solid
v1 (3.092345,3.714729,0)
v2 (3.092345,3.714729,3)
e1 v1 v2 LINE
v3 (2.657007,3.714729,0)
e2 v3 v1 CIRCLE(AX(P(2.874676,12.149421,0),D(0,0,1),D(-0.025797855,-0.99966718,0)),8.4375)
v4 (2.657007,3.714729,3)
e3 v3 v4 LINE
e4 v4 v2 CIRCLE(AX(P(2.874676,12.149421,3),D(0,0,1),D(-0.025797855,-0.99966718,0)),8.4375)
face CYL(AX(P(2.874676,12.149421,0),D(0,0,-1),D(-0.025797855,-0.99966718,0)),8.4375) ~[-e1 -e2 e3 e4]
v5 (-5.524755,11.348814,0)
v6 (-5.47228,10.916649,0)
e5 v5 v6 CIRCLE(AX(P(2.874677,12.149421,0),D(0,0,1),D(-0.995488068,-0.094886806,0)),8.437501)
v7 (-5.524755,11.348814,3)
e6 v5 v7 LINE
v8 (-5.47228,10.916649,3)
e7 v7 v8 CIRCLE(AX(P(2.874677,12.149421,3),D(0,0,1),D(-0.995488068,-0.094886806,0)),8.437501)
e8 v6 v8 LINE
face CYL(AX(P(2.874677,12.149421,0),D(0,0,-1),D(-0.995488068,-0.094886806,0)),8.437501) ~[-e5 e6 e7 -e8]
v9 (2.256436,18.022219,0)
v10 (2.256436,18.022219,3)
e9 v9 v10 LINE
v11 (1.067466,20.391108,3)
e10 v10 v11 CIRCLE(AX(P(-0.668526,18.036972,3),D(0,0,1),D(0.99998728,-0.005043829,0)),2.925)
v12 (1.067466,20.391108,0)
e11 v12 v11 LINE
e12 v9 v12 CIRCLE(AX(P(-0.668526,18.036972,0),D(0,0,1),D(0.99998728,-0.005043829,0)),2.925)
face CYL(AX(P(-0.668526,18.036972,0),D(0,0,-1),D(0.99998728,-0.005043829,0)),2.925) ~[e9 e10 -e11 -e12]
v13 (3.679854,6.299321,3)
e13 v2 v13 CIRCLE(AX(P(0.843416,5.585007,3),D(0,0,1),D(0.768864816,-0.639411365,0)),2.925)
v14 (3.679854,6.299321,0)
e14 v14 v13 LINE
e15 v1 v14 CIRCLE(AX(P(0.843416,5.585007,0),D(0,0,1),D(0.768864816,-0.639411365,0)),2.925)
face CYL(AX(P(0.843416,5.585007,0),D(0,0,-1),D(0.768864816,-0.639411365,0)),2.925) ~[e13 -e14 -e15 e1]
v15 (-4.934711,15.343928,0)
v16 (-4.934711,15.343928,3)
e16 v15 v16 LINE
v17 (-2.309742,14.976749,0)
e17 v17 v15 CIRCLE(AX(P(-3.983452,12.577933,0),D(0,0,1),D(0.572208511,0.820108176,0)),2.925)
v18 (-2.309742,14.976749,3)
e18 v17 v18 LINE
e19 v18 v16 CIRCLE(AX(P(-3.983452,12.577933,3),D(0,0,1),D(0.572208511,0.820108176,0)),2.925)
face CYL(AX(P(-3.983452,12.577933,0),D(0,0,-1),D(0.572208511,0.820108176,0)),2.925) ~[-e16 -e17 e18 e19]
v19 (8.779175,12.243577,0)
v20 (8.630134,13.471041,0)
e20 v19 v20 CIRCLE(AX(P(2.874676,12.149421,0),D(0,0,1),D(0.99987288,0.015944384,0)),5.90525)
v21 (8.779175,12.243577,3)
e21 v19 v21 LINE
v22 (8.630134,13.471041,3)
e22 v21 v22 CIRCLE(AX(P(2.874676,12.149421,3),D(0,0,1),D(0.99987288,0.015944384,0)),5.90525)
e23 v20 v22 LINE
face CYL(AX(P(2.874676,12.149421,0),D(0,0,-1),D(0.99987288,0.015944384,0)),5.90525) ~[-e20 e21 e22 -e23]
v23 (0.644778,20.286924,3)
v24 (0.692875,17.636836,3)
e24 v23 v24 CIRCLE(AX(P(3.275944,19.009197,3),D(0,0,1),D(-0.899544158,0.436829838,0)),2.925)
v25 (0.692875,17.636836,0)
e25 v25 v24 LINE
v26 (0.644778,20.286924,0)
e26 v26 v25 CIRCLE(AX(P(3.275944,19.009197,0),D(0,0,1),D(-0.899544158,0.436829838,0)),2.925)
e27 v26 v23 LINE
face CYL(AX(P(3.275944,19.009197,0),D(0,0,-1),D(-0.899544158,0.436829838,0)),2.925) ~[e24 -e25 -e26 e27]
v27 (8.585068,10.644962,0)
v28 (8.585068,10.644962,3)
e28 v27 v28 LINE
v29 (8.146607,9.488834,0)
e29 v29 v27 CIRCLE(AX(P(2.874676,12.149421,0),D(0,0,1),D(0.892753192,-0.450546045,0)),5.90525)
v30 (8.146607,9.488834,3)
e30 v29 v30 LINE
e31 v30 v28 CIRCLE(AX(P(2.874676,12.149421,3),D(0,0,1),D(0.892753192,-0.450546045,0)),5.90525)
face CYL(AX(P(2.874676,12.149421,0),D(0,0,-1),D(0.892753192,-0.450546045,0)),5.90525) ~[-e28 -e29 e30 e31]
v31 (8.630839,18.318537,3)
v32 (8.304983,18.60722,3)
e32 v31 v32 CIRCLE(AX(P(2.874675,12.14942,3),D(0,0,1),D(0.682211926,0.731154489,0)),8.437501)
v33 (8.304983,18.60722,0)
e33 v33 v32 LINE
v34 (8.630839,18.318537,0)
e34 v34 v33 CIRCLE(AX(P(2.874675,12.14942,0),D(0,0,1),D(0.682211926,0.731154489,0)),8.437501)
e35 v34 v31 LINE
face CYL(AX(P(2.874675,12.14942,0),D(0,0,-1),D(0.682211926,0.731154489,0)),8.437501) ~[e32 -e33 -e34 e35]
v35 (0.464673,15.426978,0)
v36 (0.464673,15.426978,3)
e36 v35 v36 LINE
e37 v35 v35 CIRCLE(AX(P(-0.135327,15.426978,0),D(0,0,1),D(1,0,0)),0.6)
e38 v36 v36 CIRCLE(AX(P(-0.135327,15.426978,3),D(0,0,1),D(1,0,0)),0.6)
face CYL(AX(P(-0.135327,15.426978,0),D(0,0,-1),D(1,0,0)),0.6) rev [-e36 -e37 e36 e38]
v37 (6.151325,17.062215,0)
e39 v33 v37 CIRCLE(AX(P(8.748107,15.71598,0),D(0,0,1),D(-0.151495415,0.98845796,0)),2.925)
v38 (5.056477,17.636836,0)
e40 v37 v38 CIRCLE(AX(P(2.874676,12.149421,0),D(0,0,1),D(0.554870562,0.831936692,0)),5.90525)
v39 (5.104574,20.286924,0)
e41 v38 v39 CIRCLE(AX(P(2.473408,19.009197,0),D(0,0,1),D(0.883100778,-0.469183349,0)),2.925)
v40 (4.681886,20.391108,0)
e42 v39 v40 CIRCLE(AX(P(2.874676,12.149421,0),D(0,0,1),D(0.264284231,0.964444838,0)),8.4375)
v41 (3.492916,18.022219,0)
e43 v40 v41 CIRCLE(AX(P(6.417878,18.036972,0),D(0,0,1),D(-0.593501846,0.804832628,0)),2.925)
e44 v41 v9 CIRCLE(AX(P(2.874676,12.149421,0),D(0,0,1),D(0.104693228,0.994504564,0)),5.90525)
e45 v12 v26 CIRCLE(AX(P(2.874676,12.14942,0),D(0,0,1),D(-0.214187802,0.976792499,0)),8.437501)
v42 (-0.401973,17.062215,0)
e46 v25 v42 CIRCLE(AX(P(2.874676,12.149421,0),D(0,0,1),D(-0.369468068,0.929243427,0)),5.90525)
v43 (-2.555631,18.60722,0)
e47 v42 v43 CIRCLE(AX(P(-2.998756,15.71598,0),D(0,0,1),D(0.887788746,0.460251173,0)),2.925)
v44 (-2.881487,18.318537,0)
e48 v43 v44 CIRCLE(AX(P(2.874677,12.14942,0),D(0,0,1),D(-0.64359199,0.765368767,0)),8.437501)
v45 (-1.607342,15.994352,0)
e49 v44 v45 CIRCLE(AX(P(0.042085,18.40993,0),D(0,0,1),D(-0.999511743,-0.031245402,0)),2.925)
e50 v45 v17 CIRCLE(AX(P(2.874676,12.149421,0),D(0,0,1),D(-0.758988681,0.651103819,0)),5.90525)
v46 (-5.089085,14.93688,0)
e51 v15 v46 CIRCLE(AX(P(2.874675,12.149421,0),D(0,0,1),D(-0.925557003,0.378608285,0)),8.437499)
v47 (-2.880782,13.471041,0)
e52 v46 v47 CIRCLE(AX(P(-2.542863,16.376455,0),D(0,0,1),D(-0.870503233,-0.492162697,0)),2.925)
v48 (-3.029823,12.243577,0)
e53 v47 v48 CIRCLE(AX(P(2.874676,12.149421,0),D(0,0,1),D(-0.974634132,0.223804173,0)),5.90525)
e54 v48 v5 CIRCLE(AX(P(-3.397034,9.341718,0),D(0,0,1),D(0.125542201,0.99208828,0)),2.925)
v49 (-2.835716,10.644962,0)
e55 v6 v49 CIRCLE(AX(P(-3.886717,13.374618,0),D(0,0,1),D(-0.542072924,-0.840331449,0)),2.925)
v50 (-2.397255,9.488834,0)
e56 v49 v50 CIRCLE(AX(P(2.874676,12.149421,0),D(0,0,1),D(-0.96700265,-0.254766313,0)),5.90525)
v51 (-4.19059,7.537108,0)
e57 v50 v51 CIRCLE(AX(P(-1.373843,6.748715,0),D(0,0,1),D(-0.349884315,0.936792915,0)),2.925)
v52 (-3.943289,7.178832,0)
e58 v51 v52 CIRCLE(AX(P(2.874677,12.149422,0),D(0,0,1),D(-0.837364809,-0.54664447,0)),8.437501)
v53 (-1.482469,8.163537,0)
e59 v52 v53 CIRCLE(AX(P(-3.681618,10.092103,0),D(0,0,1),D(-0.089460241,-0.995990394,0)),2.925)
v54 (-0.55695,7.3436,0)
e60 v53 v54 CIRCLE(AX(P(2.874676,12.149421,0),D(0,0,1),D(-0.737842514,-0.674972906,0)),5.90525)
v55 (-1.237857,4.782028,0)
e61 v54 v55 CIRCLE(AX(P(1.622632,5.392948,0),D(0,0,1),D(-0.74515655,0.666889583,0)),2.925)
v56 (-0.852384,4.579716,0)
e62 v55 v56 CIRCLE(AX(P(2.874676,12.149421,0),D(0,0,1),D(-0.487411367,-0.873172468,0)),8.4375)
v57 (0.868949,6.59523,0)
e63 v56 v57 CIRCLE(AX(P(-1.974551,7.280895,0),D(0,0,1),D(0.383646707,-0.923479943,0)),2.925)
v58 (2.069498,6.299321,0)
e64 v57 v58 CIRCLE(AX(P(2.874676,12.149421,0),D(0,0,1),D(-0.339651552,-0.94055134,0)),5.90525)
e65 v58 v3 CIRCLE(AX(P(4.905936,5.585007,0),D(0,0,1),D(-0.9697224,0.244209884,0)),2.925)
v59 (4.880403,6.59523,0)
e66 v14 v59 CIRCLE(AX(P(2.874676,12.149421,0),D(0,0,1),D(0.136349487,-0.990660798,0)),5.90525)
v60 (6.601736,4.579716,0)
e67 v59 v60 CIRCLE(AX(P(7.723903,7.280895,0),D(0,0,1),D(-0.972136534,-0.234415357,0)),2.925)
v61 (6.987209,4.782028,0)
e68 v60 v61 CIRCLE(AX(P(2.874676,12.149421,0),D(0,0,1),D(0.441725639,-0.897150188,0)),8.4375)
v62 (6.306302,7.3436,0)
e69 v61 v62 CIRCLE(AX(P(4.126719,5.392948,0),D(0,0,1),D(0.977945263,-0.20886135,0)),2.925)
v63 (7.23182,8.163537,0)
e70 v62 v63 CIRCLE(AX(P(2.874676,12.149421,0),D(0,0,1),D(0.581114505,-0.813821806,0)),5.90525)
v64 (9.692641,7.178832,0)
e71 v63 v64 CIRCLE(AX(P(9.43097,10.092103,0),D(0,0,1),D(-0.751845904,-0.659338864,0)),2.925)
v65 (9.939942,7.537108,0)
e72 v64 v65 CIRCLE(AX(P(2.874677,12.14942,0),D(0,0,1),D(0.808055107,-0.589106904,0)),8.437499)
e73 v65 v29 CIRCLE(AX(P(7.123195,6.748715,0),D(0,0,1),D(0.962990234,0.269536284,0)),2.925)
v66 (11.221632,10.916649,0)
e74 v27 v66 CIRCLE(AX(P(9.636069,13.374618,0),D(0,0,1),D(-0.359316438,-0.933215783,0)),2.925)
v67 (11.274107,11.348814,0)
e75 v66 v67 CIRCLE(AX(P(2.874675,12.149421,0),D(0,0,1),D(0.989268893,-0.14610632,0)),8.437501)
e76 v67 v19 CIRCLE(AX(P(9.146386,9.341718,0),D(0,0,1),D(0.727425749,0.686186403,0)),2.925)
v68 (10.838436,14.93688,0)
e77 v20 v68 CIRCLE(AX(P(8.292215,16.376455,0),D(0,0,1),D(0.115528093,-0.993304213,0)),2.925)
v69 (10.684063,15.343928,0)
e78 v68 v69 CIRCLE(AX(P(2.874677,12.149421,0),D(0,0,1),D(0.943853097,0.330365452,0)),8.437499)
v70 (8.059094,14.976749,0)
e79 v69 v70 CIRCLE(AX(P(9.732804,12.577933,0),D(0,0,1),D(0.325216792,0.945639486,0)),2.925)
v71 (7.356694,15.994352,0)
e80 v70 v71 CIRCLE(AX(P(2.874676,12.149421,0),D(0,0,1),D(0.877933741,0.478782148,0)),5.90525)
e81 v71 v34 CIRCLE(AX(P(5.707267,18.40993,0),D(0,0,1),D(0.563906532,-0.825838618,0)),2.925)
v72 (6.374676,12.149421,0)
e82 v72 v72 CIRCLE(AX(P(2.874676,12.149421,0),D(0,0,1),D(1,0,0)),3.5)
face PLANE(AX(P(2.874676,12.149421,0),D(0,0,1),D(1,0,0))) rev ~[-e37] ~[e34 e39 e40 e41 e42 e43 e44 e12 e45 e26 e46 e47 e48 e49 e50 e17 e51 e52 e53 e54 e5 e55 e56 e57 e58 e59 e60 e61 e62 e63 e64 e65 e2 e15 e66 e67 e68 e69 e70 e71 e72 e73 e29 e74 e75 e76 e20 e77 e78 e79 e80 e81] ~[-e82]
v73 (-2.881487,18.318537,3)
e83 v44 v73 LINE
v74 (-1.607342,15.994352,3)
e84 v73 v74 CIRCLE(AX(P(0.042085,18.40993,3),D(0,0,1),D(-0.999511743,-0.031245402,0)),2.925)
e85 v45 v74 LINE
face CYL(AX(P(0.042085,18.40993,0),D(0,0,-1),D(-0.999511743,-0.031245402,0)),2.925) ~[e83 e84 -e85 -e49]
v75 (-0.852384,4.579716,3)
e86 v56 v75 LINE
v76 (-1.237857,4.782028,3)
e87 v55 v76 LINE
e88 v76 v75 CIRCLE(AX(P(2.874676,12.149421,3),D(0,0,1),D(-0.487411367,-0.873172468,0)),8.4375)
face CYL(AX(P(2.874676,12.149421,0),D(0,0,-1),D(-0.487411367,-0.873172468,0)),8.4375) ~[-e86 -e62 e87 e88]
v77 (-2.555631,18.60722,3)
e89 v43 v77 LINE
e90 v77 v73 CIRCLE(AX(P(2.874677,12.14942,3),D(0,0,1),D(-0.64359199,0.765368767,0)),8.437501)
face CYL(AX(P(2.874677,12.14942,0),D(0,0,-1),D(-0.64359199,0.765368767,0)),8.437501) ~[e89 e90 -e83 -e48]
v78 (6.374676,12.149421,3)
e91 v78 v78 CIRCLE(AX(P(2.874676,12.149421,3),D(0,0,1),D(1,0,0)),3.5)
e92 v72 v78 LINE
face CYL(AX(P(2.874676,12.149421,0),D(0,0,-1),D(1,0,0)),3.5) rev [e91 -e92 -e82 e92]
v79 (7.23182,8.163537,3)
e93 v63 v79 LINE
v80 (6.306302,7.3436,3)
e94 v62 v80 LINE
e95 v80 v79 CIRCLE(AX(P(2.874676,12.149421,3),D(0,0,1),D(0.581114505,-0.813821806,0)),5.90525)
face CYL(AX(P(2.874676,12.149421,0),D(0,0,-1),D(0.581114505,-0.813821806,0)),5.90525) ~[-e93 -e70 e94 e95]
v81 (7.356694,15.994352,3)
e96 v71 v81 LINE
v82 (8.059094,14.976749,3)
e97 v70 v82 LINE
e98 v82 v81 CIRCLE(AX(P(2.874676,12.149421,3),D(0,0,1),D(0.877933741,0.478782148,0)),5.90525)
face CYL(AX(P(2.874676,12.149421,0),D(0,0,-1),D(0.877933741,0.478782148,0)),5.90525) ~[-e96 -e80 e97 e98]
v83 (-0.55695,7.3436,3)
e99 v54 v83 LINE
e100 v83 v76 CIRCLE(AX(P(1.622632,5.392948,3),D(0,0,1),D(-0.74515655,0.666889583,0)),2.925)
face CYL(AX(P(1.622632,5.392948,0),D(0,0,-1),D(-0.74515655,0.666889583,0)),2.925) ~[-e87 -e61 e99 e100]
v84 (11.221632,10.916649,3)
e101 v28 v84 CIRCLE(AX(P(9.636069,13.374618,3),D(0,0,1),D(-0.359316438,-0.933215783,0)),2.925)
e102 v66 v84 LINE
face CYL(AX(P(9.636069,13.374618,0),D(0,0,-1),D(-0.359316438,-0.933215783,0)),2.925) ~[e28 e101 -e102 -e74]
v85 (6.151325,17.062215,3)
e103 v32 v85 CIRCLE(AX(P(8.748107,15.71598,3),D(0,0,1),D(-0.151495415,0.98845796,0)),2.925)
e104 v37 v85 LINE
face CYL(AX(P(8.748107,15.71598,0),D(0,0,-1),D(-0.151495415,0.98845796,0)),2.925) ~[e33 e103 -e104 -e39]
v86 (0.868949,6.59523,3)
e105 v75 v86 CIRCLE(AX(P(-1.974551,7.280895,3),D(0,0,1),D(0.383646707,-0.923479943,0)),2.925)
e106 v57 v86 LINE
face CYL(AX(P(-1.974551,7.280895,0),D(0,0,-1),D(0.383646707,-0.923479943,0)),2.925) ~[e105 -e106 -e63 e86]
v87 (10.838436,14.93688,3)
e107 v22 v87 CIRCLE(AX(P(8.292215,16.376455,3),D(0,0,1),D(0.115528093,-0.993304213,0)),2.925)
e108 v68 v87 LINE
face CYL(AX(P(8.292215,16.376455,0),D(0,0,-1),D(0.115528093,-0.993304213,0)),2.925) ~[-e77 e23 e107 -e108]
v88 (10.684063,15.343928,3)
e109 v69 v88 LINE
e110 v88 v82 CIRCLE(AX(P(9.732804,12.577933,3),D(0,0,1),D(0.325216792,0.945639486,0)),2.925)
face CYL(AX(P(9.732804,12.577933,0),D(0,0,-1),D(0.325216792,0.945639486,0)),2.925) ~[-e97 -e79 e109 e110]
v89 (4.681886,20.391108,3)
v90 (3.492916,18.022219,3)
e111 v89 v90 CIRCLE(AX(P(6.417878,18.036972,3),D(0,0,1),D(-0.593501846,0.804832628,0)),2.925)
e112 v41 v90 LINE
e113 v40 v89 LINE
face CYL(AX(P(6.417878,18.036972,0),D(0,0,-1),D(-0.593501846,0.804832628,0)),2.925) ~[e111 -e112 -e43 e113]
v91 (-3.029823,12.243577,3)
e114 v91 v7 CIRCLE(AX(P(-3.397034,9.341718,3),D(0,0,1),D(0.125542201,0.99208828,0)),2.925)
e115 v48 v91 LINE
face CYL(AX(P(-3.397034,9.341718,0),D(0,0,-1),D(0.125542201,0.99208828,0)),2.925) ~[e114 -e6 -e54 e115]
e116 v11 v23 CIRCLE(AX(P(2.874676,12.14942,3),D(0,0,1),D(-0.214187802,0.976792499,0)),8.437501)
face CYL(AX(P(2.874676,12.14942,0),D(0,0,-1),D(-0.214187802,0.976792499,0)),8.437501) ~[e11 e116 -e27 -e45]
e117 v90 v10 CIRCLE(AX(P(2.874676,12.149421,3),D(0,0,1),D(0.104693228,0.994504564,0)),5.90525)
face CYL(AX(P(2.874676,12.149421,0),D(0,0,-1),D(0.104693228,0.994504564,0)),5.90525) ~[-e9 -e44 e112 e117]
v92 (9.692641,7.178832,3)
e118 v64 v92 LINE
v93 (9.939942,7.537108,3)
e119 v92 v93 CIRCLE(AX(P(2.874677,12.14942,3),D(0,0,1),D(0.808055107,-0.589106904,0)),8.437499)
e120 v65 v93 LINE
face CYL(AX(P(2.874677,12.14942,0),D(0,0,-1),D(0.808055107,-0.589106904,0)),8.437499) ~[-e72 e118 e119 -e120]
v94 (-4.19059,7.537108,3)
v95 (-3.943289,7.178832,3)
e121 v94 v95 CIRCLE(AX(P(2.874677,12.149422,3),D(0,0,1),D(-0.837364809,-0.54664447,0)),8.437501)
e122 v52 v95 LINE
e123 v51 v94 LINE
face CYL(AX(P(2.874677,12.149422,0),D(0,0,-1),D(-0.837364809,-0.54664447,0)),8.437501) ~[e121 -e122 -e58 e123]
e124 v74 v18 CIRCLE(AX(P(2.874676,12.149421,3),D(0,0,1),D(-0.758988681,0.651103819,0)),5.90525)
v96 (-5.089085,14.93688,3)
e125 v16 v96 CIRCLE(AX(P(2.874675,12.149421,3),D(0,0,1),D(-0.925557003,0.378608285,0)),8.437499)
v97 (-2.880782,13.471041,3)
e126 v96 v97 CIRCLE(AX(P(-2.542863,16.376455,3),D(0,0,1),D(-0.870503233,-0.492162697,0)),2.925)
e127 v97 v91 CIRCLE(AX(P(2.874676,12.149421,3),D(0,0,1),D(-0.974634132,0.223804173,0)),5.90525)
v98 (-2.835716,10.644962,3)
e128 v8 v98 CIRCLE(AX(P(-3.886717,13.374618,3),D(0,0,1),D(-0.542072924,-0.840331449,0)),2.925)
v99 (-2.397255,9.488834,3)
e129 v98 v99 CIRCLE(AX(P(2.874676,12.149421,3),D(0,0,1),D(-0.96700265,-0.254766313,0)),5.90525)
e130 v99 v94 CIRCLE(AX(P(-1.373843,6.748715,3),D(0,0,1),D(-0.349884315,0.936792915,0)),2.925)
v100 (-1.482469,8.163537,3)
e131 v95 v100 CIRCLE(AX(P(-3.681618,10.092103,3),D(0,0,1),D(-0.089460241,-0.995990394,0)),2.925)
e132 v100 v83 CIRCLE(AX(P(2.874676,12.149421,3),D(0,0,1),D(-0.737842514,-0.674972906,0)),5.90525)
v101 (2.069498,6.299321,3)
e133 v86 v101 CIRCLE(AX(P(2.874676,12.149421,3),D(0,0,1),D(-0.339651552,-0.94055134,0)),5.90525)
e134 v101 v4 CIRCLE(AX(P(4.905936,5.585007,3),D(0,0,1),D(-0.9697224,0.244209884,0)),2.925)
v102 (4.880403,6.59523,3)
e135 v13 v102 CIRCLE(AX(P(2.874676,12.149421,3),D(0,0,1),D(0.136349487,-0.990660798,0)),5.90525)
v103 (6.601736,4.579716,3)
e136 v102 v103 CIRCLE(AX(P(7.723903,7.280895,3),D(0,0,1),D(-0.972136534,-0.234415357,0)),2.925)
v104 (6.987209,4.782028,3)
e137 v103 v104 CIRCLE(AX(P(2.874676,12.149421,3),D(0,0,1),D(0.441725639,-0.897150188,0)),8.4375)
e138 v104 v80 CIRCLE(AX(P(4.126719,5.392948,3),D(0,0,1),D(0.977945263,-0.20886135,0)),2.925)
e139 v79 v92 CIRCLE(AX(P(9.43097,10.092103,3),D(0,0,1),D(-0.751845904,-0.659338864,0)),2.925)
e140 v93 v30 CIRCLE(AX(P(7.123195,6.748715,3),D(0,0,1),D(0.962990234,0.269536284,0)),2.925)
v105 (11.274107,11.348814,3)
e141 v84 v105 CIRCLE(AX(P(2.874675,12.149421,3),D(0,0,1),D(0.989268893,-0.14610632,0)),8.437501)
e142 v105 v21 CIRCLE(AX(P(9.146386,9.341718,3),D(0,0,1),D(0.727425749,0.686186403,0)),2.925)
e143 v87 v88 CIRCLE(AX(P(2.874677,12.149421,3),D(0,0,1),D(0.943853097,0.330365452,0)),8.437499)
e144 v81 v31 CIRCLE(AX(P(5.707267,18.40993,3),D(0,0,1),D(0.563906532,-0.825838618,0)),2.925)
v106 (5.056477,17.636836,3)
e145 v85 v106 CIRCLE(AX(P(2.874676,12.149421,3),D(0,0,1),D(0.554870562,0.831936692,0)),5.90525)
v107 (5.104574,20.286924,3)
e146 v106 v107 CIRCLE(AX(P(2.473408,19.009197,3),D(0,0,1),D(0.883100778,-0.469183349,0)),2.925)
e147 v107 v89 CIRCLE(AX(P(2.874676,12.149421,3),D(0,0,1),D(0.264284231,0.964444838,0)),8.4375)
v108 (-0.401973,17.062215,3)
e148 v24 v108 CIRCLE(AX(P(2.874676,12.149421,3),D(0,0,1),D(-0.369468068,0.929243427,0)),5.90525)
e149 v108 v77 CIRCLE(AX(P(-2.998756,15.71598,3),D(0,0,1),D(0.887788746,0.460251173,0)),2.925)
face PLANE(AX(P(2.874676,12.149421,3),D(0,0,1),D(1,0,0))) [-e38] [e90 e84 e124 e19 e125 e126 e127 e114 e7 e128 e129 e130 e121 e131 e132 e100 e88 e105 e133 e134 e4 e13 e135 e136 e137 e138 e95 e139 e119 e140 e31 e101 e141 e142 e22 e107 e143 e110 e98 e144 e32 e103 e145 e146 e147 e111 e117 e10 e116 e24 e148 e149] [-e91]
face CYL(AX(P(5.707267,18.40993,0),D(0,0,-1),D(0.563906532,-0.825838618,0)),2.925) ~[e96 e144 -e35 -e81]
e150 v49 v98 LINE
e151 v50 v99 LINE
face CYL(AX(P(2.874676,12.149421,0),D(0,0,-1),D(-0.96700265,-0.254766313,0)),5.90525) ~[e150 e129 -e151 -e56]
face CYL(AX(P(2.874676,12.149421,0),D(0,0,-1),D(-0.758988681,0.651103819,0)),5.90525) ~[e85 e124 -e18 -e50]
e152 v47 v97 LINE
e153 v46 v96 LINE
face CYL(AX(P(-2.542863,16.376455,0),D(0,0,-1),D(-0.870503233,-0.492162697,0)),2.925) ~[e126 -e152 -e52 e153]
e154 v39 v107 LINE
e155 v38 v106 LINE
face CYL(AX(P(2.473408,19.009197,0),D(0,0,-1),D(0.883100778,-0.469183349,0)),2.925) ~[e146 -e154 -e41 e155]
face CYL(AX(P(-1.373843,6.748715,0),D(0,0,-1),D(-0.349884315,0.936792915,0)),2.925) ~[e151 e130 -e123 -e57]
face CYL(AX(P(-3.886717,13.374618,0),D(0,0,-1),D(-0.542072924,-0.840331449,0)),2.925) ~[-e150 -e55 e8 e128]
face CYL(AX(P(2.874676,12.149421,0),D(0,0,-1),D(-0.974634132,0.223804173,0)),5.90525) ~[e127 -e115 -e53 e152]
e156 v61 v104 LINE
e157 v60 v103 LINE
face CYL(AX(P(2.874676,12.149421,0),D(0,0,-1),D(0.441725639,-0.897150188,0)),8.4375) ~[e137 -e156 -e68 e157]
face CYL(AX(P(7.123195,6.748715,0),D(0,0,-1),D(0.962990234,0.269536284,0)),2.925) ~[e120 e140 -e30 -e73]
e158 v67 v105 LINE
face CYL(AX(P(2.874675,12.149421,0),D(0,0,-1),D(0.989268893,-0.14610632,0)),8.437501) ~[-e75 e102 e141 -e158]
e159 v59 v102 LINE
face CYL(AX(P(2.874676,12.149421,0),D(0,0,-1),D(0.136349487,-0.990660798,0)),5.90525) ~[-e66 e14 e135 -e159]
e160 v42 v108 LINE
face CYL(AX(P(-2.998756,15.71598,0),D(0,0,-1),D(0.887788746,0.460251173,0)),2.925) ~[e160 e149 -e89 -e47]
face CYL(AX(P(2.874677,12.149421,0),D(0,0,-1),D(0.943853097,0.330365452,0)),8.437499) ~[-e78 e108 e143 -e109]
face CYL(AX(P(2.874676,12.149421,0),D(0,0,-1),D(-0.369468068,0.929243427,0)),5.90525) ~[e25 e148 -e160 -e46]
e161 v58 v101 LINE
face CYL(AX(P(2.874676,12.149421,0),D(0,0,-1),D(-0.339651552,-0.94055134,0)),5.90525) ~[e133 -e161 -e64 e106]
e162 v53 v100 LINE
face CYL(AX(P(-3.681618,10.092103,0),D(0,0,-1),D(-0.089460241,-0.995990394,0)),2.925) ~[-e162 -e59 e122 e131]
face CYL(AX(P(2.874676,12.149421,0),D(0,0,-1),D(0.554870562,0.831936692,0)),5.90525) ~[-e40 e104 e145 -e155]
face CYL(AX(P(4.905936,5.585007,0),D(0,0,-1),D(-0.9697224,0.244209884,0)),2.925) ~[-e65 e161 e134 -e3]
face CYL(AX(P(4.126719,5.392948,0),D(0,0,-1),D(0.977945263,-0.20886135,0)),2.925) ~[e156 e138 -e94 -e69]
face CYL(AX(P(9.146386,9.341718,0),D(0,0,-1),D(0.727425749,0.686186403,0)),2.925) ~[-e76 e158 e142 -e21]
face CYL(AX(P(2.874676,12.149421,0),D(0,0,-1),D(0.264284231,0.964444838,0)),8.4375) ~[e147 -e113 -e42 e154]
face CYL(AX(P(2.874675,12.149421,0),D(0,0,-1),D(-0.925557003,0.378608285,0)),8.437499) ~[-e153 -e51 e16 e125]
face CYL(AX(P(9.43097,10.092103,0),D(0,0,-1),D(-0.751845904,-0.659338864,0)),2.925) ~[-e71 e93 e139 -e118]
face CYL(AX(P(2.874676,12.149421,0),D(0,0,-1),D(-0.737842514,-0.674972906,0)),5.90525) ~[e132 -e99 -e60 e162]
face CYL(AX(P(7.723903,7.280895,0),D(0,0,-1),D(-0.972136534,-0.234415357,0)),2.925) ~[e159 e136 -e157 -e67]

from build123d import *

# Parameters (mm, degrees)
SKETCH1_R           = 3.5
SKETCH1_R_2         = 0.6
BOSS_EXTRUDE1_DEPTH = 3


with BuildPart() as part:
    # Sketch1 → Boss-Extrude1 (new body)
    with BuildSketch(Plane.XY):
        with BuildLine():
            ThreePointArc((2.256436303, 18.02221908), (1.945672304, 19.349065897), (1.067466411, 20.391107713))
            ThreePointArc((1.067466411, 20.391107713), (0.855450056, 20.341742586), (0.644777778, 20.286924322))
            ThreePointArc((0.644777778, 20.286924322), (0.351426057, 18.956119489), (0.692874662, 17.636835748))
            ThreePointArc((0.692874662, 17.636835748), (0.130369461, 17.378260197), (-0.40197342, 17.062215148))
            ThreePointArc((-0.40197342, 17.062215148), (-1.293757737, 18.092660425), (-2.555631415, 18.607220002))
            ThreePointArc((-2.555631415, 18.607220002), (-2.720421456, 18.464980439), (-2.881487176, 18.318536988))
            ThreePointArc((-2.881487176, 18.318536988), (-2.522781382, 17.003840487), (-1.607341932, 15.994351828))
            ThreePointArc((-1.607341932, 15.994351828), (-1.985249501, 15.503985347), (-2.309742255, 14.976749281))
            ThreePointArc((-2.309742255, 14.976749281), (-3.57824985, 15.474730425), (-4.93471126, 15.343928364))
            ThreePointArc((-4.93471126, 15.343928364), (-5.014523575, 15.141399736), (-5.089084522, 14.936879527))
            ThreePointArc((-5.089084522, 14.936879527), (-4.160496386, 13.939472483), (-2.880782238, 13.471040593))
            ThreePointArc((-2.880782238, 13.471040593), (-2.987518106, 12.861220233), (-3.029823353, 12.243576579))
            ThreePointArc((-3.029823353, 12.243576579), (-4.384454423, 12.09501211), (-5.524754604, 11.348813588))
            ThreePointArc((-5.524754604, 11.348813588), (-5.501305152, 11.132392762), (-5.472280312, 10.916648911))
            ThreePointArc((-5.472280312, 10.916648911), (-4.186538186, 10.465025257), (-2.835716429, 10.644962236))
            ThreePointArc((-2.835716429, 10.644962236), (-2.646828694, 10.055390493), (-2.397254812, 9.488833969))
            ThreePointArc((-2.397254812, 9.488833969), (-3.527679704, 8.727758217), (-4.190589627, 7.537108322))
            ThreePointArc((-4.190589627, 7.537108322), (-4.069250395, 7.356374701), (-3.943289009, 7.178831524))
            ThreePointArc((-3.943289009, 7.178831524), (-2.594940919, 7.376452797), (-1.482468538, 8.163537251))
            ThreePointArc((-1.482468538, 8.163537251), (-1.041229104, 7.729277906), (-0.556950462, 7.343599785))
            ThreePointArc((-0.556950462, 7.343599785), (-1.204202457, 6.144366032), (-1.237857446, 4.782028306))
            ThreePointArc((-1.237857446, 4.782028306), (-1.046425791, 4.678385785), (-0.852384094, 4.579716284))
            ThreePointArc((-0.852384094, 4.579716284), (0.249679662, 5.381309833), (0.868948651, 6.595230199))
            ThreePointArc((0.868948651, 6.595230199), (1.461457147, 6.415766834), (2.069498148, 6.299321325))
            ThreePointArc((2.069498148, 6.299321325), (2.053696683, 4.936659572), (2.657006579, 3.714729171))
            ThreePointArc((2.657006579, 3.714729171), (2.874675973, 3.711921002), (3.092345367, 3.714729171))
            ThreePointArc((3.092345367, 3.714729171), (3.695655263, 4.936659572), (3.679853798, 6.299321325))
            ThreePointArc((3.679853798, 6.299321325), (4.2878948, 6.415766834), (4.880403295, 6.595230199))
            ThreePointArc((4.880403295, 6.595230199), (5.499672285, 5.381309833), (6.60173604, 4.579716284))
            ThreePointArc((6.60173604, 4.579716284), (6.795777737, 4.678385785), (6.987209392, 4.782028306))
            ThreePointArc((6.987209392, 4.782028306), (6.953554403, 6.144366032), (6.306302409, 7.343599785))
            ThreePointArc((6.306302409, 7.343599785), (6.790581051, 7.729277906), (7.231820484, 8.163537251))
            ThreePointArc((7.231820484, 8.163537251), (8.344292866, 7.376452797), (9.692640955, 7.178831524))
            ThreePointArc((9.692640955, 7.178831524), (9.818602342, 7.356374701), (9.939941573, 7.537108322))
            ThreePointArc((9.939941573, 7.537108322), (9.27703165, 8.727758217), (8.146606758, 9.488833969))
            ThreePointArc((8.146606758, 9.488833969), (8.39618064, 10.055390493), (8.585068375, 10.644962236))
            ThreePointArc((8.585068375, 10.644962236), (9.935890133, 10.465025257), (11.221632258, 10.916648911))
            ThreePointArc((11.221632258, 10.916648911), (11.250657098, 11.132392762), (11.27410655, 11.348813588))
            ThreePointArc((11.27410655, 11.348813588), (10.133806369, 12.09501211), (8.779175299, 12.243576579))
            ThreePointArc((8.779175299, 12.243576579), (8.736870052, 12.861220233), (8.630134184, 13.471040593))
            ThreePointArc((8.630134184, 13.471040593), (9.909848333, 13.939472483), (10.838436468, 14.936879527))
            ThreePointArc((10.838436468, 14.936879527), (10.763875521, 15.141399736), (10.684063206, 15.343928364))
            ThreePointArc((10.684063206, 15.343928364), (9.327601796, 15.474730425), (8.059094201, 14.976749281))
            ThreePointArc((8.059094201, 14.976749281), (7.734601447, 15.503985347), (7.356693878, 15.994351828))
            ThreePointArc((7.356693878, 15.994351828), (8.272133328, 17.003840487), (8.630839122, 18.318536988))
            ThreePointArc((8.630839122, 18.318536988), (8.469773402, 18.464980439), (8.304983361, 18.607220002))
            ThreePointArc((8.304983361, 18.607220002), (7.043109683, 18.092660425), (6.151325366, 17.062215148))
            ThreePointArc((6.151325366, 17.062215148), (5.618982485, 17.378260197), (5.056477284, 17.636835748))
            ThreePointArc((5.056477284, 17.636835748), (5.39792589, 18.956119489), (5.104574168, 20.286924322))
            ThreePointArc((5.104574168, 20.286924322), (4.893901891, 20.341742586), (4.681885535, 20.391107713))
            ThreePointArc((4.681885535, 20.391107713), (3.803679642, 19.349065897), (3.492915643, 18.02221908))
            ThreePointArc((3.492915643, 18.02221908), (2.874675973, 18.054671002), (2.256436303, 18.02221908))
        make_face()
        with Locations((2.874675973, 12.149421002)):
            Circle(SKETCH1_R, mode=Mode.SUBTRACT)
        with Locations((-0.135327396, 15.426977975)):
            Circle(SKETCH1_R_2, mode=Mode.SUBTRACT)
    extrude(amount=BOSS_EXTRUDE1_DEPTH)


solid = part.part
